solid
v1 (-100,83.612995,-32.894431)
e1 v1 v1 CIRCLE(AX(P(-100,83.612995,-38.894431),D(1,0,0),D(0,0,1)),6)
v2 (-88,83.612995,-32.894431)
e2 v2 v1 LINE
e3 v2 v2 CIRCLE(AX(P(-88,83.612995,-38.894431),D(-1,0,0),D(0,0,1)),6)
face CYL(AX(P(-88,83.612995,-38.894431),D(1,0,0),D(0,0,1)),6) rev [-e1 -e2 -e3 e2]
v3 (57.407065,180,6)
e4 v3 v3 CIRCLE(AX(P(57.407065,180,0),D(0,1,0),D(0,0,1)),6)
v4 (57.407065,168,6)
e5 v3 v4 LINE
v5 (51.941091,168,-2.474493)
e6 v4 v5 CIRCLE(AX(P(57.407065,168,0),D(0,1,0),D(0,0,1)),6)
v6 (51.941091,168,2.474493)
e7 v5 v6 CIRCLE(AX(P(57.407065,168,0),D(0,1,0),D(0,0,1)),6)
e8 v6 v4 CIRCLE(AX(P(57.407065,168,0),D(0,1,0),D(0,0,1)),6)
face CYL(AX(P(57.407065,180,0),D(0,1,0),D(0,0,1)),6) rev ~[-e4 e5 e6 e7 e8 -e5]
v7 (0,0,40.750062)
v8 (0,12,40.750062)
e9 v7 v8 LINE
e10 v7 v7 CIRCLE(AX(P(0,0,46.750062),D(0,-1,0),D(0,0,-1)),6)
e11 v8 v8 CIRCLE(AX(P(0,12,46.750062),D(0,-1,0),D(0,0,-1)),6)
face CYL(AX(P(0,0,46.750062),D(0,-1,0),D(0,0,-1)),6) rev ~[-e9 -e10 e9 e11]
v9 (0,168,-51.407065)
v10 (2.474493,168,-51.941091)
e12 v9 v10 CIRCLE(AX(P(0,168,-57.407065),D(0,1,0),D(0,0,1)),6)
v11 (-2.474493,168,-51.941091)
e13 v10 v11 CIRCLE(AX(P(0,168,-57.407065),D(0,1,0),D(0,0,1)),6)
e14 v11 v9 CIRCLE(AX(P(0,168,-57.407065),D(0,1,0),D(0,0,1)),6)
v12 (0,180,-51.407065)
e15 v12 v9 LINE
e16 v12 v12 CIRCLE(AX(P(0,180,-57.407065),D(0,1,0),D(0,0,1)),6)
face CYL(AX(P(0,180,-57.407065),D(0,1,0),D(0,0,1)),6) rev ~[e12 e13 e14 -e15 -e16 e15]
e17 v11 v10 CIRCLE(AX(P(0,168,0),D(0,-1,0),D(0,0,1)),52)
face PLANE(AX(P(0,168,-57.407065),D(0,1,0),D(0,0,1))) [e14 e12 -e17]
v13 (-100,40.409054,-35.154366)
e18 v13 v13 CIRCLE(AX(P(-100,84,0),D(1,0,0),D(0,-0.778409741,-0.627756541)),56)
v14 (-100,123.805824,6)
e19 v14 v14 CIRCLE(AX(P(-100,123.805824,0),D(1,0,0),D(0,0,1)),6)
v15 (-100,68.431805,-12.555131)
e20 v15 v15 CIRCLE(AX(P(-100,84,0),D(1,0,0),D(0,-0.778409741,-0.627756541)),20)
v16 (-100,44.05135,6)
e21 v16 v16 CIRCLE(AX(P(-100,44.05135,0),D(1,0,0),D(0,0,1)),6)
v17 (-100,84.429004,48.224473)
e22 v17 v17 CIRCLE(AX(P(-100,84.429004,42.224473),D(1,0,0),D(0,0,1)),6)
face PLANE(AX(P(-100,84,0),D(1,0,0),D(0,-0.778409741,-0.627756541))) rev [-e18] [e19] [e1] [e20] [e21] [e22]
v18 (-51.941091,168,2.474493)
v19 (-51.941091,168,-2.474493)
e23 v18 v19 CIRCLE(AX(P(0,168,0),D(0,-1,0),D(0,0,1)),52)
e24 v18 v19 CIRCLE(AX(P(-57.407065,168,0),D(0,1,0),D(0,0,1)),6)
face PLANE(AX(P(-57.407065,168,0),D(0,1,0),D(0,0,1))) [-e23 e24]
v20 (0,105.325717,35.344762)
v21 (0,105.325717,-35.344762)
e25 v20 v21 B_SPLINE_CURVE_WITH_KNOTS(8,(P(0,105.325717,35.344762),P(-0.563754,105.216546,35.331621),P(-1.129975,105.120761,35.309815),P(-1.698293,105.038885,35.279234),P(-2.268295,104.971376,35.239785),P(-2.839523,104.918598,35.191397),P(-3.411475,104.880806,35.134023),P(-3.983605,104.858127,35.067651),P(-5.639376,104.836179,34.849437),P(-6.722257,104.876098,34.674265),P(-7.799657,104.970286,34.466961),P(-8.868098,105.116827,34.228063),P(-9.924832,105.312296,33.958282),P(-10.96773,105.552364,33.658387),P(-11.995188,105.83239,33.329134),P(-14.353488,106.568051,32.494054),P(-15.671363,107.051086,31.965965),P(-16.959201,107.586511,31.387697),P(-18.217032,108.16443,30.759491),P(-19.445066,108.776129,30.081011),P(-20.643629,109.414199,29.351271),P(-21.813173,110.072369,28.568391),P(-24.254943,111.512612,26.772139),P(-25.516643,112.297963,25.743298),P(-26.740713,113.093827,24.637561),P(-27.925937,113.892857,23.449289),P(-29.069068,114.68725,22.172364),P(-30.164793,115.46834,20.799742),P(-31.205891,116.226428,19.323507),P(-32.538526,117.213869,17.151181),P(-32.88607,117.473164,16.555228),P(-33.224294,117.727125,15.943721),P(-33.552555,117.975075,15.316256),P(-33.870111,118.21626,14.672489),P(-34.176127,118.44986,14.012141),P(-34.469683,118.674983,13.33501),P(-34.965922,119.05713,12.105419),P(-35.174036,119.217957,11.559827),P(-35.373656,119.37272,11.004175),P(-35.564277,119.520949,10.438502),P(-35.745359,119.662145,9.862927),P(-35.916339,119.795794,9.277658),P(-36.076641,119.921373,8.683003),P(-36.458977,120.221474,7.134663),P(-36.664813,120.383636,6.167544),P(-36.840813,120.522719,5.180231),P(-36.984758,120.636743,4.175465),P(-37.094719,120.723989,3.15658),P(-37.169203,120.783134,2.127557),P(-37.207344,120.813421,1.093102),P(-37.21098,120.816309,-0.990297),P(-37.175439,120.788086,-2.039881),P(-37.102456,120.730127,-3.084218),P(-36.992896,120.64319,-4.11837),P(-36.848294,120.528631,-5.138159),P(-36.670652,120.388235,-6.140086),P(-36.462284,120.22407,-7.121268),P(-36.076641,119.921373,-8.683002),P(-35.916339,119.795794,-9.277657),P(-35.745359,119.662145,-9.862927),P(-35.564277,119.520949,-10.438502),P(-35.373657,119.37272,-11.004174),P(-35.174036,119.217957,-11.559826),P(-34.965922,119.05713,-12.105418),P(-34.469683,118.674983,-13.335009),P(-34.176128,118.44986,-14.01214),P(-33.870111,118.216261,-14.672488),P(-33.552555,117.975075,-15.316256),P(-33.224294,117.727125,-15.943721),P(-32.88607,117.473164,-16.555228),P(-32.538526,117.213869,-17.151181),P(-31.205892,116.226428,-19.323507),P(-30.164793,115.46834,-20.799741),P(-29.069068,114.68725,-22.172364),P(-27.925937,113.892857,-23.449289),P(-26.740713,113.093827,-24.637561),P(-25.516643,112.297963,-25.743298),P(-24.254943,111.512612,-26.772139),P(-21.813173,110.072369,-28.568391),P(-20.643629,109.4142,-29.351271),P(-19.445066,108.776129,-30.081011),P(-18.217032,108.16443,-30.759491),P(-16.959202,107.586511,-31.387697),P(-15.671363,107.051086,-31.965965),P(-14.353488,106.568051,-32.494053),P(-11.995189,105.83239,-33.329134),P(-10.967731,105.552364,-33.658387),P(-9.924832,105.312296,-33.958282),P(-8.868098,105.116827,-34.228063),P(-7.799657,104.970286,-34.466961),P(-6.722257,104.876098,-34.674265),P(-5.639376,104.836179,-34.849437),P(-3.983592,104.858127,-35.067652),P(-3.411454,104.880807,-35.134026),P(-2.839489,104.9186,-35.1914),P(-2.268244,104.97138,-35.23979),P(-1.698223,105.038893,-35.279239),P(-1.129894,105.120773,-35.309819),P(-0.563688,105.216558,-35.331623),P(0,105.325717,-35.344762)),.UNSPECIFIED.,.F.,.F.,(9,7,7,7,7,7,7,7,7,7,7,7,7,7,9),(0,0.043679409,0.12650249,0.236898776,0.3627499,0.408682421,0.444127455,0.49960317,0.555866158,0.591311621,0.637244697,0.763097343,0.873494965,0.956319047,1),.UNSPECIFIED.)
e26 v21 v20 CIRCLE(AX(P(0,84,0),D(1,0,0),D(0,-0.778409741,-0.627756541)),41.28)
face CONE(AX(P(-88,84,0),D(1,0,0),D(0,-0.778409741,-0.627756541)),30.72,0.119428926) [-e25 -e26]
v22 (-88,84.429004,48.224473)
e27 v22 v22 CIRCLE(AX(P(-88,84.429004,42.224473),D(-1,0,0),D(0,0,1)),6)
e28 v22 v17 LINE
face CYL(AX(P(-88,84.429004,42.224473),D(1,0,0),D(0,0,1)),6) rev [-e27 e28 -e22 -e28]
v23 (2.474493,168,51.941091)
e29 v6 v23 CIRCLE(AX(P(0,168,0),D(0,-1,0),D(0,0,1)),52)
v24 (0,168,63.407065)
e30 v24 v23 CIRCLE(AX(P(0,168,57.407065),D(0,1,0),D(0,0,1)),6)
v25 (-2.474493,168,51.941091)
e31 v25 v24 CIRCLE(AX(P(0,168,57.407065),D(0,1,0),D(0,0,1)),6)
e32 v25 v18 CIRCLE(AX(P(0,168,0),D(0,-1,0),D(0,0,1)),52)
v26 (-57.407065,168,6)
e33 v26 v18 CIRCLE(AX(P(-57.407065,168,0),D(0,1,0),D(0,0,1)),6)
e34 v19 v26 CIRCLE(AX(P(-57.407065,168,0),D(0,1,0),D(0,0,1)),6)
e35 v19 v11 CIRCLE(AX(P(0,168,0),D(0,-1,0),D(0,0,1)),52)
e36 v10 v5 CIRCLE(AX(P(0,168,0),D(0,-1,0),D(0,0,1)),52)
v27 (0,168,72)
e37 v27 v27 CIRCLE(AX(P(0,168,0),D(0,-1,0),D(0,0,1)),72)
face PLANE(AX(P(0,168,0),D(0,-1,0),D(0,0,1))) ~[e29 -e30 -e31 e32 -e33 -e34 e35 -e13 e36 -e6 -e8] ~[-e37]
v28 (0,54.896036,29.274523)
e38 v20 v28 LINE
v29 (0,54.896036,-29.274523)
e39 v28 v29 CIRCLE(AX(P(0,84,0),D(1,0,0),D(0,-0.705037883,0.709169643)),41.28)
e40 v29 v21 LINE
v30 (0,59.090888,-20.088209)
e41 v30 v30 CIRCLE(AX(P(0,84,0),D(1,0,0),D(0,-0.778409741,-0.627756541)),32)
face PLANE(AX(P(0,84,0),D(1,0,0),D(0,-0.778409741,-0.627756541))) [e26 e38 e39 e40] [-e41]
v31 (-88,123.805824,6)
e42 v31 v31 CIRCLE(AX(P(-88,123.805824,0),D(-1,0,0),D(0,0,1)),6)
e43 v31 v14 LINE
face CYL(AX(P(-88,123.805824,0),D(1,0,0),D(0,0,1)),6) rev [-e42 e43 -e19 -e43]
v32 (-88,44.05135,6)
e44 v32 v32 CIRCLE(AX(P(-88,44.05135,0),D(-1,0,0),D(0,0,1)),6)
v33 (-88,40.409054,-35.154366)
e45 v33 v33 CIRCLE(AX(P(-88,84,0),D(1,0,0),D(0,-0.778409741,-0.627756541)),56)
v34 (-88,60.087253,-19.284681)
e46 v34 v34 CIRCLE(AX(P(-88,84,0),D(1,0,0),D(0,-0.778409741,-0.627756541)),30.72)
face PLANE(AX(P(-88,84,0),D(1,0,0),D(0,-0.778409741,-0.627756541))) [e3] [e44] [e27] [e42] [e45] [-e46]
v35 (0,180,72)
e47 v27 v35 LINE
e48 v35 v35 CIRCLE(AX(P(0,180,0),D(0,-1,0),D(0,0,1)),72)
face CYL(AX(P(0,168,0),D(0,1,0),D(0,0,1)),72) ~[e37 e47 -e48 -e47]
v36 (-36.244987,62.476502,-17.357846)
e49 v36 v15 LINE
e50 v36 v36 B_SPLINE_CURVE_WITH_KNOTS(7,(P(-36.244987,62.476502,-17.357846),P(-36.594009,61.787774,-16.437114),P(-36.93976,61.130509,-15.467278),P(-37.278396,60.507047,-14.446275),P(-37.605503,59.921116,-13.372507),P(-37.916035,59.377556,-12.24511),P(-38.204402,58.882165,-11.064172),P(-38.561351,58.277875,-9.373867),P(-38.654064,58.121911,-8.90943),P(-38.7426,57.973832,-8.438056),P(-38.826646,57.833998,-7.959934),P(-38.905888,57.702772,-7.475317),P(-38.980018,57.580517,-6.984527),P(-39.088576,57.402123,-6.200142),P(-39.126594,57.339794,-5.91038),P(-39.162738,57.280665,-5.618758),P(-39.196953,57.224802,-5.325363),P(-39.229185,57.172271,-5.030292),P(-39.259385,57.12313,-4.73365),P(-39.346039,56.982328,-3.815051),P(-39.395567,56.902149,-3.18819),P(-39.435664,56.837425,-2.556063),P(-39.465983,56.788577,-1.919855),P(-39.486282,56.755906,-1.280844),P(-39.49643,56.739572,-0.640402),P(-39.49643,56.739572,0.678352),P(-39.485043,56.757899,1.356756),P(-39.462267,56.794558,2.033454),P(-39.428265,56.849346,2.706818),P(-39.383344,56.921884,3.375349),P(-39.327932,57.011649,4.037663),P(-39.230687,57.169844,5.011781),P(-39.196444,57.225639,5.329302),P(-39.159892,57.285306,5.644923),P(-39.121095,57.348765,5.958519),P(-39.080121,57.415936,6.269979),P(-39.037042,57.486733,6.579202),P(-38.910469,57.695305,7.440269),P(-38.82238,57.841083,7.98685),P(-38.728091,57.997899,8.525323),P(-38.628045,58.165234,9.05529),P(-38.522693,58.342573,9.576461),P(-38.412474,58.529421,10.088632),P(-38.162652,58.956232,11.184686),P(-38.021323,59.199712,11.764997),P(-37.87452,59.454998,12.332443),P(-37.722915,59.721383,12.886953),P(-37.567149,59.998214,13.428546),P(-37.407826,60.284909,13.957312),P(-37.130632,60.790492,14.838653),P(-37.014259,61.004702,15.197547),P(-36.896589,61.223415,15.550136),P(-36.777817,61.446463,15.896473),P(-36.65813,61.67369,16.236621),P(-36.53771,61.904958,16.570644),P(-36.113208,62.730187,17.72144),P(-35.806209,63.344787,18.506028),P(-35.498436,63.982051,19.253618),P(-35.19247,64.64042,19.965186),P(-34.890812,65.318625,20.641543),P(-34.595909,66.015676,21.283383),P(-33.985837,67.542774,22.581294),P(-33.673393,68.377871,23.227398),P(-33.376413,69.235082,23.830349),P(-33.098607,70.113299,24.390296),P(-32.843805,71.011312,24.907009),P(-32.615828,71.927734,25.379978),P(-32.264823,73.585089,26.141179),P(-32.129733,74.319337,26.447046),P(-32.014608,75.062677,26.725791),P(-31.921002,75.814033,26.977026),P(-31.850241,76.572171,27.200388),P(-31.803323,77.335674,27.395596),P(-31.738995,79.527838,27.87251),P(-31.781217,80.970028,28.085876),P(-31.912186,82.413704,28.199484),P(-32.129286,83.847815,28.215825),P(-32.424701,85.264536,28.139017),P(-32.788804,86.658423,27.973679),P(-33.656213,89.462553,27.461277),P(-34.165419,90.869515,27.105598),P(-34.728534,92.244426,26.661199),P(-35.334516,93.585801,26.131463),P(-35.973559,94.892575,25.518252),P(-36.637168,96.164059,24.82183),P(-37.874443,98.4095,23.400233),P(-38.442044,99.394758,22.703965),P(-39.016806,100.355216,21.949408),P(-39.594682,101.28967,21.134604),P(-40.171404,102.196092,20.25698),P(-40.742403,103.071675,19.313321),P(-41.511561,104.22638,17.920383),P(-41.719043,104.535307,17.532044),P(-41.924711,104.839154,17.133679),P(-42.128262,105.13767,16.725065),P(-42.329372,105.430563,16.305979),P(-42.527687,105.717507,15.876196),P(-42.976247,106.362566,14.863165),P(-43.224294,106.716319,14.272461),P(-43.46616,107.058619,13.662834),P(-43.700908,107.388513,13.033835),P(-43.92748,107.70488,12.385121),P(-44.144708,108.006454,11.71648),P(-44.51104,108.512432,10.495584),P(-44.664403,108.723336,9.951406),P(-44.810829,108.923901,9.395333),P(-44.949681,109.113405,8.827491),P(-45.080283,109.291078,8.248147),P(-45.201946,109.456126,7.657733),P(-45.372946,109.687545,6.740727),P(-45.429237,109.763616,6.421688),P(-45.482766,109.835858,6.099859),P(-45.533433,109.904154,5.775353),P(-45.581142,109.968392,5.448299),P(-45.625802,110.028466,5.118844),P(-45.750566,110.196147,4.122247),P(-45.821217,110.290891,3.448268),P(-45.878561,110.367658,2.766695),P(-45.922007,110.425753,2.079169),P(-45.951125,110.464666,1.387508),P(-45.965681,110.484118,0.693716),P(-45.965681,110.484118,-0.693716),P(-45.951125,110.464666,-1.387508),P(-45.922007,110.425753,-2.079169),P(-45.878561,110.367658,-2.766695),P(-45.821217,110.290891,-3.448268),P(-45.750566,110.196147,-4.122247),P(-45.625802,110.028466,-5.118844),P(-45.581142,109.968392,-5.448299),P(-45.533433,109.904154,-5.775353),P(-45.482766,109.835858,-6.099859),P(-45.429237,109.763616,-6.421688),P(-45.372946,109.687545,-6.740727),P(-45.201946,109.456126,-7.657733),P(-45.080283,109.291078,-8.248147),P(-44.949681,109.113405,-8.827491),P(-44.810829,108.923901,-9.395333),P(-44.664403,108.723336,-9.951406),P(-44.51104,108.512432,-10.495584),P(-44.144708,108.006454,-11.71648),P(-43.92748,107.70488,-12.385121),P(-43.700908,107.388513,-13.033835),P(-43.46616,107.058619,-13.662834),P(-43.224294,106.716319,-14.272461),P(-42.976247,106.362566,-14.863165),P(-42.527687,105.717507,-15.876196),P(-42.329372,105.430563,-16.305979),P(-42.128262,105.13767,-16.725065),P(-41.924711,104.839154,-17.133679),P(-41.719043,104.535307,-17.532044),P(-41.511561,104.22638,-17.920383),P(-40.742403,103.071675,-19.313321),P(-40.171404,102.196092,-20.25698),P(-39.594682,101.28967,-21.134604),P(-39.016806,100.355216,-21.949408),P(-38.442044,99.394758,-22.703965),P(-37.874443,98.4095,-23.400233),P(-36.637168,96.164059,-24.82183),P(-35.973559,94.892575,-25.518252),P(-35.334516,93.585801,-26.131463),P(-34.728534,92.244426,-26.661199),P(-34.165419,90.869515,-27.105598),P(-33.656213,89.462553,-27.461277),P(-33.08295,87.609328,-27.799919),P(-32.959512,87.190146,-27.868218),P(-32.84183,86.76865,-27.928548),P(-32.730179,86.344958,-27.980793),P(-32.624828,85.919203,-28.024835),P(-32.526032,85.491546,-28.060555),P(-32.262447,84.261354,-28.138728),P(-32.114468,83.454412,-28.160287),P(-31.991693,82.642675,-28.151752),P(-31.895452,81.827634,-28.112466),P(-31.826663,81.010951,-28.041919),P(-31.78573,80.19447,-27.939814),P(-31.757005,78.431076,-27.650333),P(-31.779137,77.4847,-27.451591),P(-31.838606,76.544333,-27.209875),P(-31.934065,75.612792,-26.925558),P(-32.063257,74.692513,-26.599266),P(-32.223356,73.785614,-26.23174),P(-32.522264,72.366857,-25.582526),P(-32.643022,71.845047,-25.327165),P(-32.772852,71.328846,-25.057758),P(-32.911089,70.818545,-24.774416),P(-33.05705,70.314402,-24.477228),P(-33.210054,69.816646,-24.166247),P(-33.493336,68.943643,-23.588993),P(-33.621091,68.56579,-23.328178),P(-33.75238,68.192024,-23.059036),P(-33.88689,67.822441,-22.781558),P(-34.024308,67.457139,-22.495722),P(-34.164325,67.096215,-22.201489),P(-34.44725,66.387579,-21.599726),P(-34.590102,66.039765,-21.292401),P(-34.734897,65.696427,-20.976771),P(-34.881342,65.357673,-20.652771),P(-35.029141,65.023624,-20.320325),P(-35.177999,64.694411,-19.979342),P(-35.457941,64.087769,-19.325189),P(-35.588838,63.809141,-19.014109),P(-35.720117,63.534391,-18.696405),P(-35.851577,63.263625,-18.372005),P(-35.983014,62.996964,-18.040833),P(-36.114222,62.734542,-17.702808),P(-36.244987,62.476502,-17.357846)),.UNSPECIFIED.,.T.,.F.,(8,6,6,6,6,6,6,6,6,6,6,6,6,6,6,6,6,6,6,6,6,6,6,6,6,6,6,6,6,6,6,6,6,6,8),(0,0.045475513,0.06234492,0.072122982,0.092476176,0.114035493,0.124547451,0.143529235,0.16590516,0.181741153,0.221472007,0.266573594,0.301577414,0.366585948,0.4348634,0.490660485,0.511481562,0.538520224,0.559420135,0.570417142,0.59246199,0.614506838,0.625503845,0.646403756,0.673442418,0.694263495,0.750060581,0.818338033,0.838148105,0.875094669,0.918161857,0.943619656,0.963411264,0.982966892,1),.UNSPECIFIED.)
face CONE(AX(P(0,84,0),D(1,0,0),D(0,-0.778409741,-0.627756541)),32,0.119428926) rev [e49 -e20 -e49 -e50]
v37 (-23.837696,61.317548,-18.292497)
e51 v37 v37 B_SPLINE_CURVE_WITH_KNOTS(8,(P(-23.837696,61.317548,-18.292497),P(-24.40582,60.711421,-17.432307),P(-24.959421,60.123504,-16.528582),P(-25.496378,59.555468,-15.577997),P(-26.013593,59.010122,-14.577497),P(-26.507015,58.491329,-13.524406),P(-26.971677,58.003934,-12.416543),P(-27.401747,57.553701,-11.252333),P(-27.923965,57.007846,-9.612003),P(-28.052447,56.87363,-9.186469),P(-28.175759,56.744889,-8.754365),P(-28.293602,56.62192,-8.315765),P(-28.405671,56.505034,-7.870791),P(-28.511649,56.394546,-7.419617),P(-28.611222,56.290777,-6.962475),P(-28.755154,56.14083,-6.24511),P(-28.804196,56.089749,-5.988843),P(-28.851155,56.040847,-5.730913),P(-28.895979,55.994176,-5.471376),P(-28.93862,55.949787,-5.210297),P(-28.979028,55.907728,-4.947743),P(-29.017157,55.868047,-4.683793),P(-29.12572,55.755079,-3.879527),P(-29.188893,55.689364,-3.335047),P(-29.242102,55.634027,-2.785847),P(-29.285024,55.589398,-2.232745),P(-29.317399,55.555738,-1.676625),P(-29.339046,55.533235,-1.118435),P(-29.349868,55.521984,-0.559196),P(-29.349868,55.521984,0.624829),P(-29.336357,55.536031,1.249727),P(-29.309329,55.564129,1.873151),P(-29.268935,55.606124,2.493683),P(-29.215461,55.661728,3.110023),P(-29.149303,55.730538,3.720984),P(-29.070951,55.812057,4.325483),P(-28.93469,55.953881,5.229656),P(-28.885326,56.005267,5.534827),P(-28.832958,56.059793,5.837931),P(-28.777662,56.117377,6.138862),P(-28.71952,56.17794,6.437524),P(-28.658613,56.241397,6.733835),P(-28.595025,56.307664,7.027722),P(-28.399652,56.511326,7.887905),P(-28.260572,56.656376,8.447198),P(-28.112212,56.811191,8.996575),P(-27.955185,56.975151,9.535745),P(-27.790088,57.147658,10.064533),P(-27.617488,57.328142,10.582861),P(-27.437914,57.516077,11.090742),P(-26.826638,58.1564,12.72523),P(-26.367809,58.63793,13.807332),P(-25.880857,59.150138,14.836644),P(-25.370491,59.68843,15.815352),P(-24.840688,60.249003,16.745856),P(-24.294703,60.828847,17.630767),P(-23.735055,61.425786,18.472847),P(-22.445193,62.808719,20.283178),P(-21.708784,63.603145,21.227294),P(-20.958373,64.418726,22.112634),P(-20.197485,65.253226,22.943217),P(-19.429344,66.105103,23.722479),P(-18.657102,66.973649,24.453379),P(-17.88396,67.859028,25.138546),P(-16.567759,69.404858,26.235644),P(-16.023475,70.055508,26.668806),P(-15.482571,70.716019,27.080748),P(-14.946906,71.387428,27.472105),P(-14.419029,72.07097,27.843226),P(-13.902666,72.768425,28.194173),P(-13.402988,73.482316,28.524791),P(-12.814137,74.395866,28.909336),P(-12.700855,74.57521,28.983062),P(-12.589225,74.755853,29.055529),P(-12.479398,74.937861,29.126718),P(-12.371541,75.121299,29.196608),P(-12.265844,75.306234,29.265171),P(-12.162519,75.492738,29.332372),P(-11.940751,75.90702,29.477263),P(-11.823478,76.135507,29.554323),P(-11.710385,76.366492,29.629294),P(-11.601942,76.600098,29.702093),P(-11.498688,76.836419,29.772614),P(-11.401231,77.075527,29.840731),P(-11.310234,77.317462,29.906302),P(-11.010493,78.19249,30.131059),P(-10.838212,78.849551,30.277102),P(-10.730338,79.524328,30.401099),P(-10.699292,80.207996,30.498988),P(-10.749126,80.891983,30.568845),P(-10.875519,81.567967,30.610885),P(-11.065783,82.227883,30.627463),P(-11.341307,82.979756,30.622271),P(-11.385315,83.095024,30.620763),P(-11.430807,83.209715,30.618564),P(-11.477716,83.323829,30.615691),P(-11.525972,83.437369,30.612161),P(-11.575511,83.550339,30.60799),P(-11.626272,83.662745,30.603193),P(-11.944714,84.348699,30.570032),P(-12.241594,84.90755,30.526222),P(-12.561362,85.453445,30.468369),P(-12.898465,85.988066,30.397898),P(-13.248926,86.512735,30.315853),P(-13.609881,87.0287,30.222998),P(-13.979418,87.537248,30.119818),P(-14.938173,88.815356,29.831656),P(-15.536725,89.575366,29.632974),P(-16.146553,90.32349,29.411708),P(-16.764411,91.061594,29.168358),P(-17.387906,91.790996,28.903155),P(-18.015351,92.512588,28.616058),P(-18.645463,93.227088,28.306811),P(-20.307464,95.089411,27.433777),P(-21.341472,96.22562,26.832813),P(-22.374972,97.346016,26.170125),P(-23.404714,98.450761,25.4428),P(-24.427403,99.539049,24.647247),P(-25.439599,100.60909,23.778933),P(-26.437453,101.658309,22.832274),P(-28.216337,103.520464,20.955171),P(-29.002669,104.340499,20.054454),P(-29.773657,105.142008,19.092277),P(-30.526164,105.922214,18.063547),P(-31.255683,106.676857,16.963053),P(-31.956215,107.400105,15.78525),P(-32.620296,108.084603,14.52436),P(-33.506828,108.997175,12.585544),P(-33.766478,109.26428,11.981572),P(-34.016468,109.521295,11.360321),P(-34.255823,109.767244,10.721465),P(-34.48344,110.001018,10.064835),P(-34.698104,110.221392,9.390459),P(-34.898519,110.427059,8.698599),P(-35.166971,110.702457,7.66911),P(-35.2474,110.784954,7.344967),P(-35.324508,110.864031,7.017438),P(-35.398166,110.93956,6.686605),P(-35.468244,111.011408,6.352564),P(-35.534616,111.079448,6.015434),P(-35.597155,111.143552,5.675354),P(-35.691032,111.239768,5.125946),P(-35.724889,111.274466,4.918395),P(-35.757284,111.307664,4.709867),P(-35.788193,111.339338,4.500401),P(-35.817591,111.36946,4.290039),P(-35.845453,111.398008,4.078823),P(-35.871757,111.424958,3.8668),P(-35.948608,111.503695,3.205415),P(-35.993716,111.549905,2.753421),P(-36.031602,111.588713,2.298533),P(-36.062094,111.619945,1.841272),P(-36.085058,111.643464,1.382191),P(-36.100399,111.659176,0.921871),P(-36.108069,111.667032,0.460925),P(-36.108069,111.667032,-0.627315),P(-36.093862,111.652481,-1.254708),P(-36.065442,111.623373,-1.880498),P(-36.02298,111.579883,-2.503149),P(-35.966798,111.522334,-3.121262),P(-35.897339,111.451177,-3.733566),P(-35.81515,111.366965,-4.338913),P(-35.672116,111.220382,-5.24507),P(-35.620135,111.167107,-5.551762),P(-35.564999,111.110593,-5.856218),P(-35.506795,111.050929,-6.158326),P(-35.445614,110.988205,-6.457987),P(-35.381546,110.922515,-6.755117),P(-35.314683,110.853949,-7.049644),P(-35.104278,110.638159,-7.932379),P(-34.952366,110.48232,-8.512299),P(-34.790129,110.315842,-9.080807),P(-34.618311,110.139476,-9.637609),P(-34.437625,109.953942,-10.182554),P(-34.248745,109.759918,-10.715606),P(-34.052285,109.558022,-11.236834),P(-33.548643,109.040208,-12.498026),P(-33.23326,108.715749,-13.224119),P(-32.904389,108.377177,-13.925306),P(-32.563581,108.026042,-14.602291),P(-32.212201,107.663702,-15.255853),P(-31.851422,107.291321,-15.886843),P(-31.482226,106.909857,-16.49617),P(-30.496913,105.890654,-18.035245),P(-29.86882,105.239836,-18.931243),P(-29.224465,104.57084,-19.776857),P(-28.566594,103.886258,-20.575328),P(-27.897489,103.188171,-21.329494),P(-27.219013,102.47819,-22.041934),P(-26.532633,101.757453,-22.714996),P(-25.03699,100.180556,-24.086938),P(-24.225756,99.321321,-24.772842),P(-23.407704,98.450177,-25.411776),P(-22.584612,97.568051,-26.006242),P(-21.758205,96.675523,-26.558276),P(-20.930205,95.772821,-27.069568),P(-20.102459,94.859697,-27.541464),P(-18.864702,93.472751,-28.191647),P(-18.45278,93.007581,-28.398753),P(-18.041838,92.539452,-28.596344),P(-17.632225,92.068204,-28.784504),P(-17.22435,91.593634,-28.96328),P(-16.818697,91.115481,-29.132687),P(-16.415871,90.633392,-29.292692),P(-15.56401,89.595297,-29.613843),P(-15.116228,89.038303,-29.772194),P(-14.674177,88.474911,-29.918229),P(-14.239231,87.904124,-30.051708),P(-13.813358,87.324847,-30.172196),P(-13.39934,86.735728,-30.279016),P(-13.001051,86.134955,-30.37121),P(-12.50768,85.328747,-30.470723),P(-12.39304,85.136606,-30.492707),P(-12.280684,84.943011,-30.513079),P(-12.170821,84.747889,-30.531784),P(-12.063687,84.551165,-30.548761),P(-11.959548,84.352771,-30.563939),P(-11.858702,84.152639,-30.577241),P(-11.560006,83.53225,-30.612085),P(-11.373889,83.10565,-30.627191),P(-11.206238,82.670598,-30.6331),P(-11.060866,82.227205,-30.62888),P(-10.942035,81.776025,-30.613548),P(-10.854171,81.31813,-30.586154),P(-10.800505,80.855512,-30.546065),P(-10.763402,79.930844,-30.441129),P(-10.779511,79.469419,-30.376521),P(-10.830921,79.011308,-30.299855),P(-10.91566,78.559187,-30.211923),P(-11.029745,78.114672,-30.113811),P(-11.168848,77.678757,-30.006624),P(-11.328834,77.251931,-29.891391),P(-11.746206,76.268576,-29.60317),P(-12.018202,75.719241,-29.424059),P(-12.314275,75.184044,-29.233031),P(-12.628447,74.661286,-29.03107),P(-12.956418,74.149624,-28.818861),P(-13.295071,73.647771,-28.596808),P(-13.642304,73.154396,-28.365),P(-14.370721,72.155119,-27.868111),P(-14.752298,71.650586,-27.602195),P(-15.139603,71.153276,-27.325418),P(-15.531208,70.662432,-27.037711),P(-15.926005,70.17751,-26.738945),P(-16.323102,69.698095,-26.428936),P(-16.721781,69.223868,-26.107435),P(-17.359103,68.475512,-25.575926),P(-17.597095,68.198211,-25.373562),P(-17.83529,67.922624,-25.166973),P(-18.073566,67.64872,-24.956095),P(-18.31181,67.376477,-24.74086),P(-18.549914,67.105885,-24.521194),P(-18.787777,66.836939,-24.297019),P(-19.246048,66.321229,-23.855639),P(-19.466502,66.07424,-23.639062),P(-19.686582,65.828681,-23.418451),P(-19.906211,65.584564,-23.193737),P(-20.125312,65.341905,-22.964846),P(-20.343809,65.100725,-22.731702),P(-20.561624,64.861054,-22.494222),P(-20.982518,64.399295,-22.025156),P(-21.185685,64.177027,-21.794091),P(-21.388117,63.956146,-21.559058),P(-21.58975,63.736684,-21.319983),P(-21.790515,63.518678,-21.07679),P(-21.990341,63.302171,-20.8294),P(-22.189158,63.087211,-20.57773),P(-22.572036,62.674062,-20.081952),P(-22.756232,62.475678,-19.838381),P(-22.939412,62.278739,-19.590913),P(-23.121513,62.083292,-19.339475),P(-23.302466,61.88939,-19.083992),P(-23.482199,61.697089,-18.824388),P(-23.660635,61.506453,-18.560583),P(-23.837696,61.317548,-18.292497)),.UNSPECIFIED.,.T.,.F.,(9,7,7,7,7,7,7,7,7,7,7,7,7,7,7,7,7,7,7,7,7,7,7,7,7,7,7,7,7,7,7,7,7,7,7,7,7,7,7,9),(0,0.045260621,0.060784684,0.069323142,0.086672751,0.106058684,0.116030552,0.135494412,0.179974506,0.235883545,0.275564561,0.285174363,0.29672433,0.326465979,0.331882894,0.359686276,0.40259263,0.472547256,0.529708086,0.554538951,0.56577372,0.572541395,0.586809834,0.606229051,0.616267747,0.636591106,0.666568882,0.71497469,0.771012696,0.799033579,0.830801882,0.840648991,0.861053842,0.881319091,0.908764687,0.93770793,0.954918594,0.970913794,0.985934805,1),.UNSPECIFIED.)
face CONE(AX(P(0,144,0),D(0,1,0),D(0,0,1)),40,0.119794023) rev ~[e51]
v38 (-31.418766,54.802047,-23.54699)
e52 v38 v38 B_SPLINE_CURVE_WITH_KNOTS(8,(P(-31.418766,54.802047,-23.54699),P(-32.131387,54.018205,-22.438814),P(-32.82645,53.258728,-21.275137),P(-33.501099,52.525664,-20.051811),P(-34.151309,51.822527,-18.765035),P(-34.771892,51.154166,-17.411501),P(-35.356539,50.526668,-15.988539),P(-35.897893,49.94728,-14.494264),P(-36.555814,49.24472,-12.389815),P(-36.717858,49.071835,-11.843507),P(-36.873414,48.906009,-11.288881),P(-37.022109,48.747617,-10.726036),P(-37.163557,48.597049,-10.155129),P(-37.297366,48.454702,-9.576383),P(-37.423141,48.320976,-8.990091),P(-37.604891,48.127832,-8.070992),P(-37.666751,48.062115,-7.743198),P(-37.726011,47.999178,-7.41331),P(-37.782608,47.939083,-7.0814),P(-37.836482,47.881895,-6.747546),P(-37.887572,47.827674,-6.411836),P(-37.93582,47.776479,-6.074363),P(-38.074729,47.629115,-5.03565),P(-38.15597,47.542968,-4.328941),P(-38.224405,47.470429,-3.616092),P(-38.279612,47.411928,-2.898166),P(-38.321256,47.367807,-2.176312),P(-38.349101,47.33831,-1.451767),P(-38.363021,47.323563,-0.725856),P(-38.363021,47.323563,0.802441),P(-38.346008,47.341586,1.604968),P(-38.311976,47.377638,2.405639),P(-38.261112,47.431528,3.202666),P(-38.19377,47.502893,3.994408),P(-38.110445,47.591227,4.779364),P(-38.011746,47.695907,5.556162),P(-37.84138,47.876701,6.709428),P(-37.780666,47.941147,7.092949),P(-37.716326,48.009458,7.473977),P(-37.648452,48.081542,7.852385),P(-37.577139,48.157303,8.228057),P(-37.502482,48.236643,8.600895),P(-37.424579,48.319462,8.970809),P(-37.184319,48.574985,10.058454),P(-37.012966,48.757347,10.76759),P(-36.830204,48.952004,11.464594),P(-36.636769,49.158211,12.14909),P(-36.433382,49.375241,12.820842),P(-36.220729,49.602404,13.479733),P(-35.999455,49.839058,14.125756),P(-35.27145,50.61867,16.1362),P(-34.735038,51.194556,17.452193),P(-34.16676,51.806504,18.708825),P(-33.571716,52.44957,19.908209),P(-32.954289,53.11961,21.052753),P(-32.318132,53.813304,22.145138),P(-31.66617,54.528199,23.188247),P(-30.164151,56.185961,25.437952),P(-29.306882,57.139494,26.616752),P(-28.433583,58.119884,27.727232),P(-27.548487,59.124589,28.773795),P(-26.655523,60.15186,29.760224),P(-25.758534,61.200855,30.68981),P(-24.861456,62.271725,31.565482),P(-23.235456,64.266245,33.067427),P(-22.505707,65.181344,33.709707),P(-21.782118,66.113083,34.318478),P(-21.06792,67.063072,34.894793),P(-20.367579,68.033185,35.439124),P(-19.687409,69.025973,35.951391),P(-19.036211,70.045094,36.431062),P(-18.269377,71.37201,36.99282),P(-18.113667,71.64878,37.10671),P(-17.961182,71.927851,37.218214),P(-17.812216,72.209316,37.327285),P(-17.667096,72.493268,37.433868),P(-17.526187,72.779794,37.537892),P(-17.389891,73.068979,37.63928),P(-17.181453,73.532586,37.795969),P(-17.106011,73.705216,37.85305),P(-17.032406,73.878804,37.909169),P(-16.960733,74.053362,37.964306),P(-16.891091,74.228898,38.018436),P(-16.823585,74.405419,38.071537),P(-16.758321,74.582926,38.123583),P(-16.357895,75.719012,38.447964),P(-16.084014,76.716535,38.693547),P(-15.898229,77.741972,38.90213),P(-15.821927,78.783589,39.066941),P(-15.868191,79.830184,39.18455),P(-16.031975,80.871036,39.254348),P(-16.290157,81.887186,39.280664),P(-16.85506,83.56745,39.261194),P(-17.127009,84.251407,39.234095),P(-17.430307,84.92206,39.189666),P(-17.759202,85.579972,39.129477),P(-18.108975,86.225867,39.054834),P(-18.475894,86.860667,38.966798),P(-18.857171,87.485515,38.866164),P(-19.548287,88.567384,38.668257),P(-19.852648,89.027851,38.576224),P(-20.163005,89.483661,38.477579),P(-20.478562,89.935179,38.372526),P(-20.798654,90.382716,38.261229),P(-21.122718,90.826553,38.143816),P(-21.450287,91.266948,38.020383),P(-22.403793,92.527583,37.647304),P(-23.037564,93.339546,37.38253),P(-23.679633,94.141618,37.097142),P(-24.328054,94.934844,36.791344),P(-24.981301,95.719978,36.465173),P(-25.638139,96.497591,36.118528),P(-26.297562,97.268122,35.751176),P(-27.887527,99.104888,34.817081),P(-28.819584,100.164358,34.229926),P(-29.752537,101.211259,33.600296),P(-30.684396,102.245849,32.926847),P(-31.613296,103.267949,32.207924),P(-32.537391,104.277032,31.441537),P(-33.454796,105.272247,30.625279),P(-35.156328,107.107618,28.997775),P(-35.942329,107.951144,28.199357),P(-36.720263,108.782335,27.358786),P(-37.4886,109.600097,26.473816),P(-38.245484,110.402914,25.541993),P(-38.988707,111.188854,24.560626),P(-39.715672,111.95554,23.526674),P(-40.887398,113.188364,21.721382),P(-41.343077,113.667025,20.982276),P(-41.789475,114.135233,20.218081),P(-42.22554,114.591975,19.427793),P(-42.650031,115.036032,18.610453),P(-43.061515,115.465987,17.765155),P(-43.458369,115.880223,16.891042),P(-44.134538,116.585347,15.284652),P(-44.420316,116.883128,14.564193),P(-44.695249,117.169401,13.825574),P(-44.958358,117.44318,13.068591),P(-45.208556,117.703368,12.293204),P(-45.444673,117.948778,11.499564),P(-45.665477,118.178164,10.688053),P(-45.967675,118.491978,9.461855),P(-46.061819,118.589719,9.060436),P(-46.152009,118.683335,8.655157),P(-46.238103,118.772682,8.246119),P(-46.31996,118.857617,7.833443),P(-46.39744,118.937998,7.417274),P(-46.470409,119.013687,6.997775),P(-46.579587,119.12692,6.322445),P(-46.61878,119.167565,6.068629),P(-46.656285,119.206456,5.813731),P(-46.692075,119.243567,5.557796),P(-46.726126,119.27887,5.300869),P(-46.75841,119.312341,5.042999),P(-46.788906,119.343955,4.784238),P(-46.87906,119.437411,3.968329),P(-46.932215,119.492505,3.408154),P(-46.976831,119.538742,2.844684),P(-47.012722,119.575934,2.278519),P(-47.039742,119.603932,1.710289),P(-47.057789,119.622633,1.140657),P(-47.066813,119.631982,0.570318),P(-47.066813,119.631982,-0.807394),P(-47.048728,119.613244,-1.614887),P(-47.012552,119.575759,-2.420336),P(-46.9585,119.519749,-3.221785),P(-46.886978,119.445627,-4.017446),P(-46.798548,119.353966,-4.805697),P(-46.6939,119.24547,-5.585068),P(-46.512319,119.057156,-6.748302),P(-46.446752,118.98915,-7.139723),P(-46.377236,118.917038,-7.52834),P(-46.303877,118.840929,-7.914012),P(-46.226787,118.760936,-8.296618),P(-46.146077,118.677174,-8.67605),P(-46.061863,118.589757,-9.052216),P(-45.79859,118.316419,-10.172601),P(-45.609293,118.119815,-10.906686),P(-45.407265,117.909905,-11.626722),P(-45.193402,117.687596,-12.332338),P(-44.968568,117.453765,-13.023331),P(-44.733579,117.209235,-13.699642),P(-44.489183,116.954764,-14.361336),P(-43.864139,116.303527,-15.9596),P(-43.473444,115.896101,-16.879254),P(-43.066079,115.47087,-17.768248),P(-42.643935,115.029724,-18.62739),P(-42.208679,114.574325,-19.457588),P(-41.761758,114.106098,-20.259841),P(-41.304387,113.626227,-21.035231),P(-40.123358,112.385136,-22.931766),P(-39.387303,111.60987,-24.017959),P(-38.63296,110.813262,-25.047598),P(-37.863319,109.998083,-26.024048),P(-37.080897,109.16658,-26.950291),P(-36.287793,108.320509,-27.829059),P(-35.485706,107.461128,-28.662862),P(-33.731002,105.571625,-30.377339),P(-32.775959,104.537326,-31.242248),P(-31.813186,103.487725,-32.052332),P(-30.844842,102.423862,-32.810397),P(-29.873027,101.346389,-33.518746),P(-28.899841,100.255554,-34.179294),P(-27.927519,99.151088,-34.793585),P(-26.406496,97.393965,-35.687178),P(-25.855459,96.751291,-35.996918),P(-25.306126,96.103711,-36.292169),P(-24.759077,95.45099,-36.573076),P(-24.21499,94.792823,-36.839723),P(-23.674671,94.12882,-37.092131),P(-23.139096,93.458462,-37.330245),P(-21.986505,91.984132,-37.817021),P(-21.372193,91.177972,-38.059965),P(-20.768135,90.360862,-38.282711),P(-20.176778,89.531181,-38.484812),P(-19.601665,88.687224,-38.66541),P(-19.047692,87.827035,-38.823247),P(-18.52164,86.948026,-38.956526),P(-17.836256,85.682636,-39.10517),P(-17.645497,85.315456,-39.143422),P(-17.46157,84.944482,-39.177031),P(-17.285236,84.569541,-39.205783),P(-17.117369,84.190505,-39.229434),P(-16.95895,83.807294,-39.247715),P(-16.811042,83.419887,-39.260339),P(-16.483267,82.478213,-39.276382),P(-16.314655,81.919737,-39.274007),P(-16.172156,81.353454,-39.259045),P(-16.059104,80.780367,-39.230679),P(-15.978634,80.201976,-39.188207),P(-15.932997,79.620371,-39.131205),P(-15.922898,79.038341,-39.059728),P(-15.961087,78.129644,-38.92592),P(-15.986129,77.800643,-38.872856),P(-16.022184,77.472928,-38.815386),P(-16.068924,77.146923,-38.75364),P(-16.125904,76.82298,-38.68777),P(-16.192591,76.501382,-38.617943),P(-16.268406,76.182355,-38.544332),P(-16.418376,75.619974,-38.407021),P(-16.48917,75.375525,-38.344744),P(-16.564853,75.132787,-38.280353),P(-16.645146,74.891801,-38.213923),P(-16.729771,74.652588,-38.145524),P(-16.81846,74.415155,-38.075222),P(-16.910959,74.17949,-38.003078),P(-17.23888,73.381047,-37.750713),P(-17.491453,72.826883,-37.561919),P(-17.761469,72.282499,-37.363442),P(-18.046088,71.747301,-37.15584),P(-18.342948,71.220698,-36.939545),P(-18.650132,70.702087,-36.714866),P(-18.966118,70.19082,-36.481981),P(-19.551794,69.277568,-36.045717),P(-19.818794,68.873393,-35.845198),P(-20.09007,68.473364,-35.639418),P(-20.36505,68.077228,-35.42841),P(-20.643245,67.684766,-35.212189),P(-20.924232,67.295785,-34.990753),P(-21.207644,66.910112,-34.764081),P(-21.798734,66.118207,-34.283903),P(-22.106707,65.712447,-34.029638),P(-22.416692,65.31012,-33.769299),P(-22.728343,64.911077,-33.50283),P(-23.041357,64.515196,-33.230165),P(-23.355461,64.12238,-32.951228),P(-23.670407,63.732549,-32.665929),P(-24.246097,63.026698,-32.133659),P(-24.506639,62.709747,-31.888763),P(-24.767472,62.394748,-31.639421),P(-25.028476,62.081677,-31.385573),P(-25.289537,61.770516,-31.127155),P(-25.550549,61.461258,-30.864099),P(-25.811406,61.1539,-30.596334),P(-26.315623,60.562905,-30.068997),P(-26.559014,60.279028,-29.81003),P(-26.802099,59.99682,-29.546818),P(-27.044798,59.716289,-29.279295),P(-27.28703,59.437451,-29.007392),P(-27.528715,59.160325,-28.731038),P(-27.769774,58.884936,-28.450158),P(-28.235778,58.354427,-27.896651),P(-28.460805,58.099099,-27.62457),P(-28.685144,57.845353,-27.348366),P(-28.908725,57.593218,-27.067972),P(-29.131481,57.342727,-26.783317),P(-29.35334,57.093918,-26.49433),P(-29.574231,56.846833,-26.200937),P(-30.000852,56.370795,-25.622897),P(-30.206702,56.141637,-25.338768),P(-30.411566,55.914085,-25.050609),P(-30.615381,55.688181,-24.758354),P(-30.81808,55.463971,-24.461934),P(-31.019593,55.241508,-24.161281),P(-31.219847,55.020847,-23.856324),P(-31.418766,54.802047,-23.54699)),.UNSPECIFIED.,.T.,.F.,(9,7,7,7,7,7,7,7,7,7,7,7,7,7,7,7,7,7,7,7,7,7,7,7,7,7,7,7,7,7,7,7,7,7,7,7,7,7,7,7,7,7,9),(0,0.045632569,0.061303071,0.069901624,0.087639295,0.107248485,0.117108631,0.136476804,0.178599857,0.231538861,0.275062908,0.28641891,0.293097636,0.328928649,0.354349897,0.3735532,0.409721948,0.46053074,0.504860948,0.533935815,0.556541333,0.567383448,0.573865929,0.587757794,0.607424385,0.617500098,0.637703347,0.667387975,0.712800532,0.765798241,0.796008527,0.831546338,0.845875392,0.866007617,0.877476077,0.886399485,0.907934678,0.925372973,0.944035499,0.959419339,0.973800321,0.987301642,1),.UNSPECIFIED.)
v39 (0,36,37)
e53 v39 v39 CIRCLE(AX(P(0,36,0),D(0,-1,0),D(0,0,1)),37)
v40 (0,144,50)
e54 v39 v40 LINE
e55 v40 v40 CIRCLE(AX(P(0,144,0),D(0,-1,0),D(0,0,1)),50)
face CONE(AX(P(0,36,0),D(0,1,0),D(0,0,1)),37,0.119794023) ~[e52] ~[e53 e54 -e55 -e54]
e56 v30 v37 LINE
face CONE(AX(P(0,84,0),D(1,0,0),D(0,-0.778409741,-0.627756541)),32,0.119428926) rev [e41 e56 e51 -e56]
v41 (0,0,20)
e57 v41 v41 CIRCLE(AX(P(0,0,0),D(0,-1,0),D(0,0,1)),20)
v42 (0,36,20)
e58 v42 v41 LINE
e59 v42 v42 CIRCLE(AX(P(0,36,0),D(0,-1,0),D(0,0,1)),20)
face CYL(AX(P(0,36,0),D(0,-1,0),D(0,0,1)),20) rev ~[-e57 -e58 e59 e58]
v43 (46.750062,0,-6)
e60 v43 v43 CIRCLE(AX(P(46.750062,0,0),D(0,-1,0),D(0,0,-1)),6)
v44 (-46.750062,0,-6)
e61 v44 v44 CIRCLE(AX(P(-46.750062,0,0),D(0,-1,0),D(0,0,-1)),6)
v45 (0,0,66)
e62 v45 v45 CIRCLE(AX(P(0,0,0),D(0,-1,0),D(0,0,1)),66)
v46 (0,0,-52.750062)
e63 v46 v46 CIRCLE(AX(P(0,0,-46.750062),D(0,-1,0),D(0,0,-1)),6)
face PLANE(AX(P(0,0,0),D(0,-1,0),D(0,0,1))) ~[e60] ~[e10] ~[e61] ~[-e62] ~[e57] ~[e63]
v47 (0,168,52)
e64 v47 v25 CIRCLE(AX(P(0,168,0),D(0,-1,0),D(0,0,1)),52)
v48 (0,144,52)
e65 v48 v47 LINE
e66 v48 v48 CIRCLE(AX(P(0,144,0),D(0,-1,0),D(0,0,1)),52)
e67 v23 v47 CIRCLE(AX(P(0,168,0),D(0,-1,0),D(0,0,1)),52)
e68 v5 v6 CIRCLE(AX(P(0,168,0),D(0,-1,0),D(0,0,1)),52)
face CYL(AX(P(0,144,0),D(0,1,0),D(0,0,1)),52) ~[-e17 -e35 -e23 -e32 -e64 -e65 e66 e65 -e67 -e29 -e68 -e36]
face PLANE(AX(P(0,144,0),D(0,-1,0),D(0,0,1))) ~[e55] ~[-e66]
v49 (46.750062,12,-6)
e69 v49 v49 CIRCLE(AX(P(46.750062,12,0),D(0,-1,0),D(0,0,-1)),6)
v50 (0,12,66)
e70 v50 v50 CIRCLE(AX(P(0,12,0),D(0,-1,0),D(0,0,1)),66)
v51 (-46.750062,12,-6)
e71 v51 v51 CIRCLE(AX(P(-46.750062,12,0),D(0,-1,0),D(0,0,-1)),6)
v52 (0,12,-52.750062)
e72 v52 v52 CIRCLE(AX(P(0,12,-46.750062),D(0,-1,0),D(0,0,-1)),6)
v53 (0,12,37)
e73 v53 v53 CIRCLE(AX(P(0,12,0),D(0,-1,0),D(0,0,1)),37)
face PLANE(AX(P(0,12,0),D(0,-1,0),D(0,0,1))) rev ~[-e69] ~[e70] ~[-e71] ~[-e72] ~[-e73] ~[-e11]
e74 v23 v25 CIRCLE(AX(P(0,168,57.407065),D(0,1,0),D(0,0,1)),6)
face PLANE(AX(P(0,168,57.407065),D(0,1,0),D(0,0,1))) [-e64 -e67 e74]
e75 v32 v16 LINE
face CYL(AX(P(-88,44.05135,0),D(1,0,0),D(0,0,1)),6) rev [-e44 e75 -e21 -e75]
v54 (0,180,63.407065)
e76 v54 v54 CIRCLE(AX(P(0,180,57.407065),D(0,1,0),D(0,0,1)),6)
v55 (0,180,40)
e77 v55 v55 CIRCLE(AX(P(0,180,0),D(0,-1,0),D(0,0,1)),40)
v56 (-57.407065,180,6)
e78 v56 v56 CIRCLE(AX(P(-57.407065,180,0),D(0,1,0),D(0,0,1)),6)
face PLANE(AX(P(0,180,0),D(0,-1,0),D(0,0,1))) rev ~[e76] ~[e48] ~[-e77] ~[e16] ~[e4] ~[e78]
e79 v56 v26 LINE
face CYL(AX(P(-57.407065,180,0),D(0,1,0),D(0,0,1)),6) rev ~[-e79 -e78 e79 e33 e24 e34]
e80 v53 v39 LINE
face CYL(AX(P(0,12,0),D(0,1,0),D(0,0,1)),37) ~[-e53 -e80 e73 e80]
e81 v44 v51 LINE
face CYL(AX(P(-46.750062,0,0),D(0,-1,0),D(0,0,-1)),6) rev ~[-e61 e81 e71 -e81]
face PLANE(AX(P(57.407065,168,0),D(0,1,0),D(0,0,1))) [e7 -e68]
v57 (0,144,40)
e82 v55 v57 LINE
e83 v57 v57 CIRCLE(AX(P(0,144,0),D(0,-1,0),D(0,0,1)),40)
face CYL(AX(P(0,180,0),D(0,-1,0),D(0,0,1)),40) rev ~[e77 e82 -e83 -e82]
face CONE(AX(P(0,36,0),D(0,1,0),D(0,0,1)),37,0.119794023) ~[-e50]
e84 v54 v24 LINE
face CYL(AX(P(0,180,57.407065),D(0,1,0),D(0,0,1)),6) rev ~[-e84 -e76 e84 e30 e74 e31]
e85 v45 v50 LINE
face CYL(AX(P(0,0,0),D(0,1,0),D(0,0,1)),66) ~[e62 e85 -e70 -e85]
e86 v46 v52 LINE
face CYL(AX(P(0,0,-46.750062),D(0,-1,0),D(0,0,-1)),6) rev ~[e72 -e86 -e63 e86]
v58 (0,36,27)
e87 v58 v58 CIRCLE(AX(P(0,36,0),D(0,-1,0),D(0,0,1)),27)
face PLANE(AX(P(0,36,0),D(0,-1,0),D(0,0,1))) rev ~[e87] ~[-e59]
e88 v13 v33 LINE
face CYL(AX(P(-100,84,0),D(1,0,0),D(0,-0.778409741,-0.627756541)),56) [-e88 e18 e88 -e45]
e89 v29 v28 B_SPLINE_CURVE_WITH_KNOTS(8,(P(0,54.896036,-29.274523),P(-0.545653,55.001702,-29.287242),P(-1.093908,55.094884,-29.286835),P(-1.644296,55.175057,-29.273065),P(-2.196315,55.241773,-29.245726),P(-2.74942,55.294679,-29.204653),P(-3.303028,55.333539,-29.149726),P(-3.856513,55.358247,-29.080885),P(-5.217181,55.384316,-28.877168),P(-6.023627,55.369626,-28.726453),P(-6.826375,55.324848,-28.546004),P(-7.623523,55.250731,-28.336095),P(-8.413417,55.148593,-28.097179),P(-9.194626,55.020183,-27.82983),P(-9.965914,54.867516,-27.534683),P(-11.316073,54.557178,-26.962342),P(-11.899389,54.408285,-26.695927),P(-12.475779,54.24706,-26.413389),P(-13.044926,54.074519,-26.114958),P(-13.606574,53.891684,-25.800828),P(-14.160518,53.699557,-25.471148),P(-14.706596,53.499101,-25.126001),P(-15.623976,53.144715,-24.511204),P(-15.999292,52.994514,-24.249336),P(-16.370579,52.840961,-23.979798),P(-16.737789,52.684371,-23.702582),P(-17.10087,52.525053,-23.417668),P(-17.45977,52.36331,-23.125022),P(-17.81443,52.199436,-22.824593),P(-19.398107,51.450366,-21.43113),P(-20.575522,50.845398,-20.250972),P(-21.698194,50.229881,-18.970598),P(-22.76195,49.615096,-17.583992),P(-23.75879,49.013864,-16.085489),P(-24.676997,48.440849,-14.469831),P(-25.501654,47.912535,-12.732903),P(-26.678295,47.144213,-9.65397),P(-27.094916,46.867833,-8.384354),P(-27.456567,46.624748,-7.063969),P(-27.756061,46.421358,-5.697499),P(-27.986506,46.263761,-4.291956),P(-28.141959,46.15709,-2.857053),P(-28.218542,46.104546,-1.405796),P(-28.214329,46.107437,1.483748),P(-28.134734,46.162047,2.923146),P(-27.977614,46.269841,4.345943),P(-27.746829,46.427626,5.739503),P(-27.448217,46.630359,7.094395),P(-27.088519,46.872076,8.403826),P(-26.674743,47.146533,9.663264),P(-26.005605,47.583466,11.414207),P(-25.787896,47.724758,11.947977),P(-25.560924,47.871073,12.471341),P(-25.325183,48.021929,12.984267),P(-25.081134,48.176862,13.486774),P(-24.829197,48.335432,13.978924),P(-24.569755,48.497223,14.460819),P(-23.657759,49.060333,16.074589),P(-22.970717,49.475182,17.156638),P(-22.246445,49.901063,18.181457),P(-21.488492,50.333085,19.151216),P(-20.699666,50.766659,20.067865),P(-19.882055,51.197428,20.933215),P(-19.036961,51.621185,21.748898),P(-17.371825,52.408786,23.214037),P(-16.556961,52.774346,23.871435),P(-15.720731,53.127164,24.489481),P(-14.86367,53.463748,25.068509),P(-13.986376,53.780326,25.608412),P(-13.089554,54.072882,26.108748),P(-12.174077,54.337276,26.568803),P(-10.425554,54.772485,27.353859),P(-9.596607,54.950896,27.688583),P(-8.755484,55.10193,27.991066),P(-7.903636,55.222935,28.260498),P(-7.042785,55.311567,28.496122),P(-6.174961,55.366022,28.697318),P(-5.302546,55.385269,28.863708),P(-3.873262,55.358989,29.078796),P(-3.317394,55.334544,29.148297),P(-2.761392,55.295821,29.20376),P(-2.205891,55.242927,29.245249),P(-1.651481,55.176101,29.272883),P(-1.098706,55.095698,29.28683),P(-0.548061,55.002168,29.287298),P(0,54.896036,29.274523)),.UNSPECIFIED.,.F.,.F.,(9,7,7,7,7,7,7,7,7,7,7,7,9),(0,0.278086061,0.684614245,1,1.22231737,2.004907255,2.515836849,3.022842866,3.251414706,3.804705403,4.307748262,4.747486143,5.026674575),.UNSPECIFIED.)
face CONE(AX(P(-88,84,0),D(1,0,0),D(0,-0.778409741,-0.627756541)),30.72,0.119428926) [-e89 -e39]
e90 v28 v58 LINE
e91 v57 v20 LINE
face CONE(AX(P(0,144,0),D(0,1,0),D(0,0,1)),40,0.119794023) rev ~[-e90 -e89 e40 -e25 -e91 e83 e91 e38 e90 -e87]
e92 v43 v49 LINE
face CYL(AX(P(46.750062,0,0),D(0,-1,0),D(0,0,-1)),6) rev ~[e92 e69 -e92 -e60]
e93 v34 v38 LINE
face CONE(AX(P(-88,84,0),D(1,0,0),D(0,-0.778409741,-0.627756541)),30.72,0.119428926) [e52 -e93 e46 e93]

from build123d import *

# Parameters (mm, degrees)
CUT_EXTRUDE1_DEPTH      = 260.167899247
CUT_EXTRUDE1_DEPTH_BACK = 12
SKETCH9_R               = 6
SKETCH10_R              = 6
CUT_EXTRUDE2_DEPTH      = 12
SKETCH11_R              = 6
CUT_EXTRUDE3_DEPTH      = 12


with BuildPart() as part:
    # Sketch2 → Revolve1 (revolve)
    with BuildSketch(Plane.XY, mode=Mode.PRIVATE) as revolve1_sk:
        Polygon((20, 0), (66, 0), (66, 12), (37, 12), (37, 36), (50, 144), (52, 144), (52, 168), (72, 168), (72, 180), (40, 180), (40, 144), (27, 36), (20, 36), align=None)
    revolve(revolve1_sk.sketch.rotate(Axis((0, 219.689881735, 0), (0, -1, 0)), 90), axis=Axis((0, 219.689881735, 0), (0, -1, 0)))

    # Sketch3 → Revolve2 (revolve)
    with BuildSketch(Plane.XY, mode=Mode.PRIVATE) as revolve2_sk:
        Polygon((0, 42.72), (0, 52), (-100, 64), (-100, 28), (-88, 28), (-88, 53.28), align=None)
    revolve(revolve2_sk.sketch.rotate(Axis((-132.487962293, 84, 0), (1, 0, 0)), 38.884797464), axis=Axis((-132.487962293, 84, 0), (1, 0, 0)))

    # Sketch9 → Cut-Extrude1 (cut, two sides: drawn at the far end of the back side and taken through both)
    with BuildSketch(Plane.ZY.offset(100).offset(-CUT_EXTRUDE1_DEPTH_BACK)):
        with Locations((0, 123.805824454)):
            Circle(SKETCH9_R)
        with Locations((-38.894430599, 83.612994593)):
            Circle(SKETCH9_R)
        with Locations((0, 44.0513497)):
            Circle(SKETCH9_R)
        with Locations((42.224472522, 84.429003597)):
            Circle(SKETCH9_R)
    extrude(amount=CUT_EXTRUDE1_DEPTH + CUT_EXTRUDE1_DEPTH_BACK, mode=Mode.SUBTRACT)

    # Sketch10 → Cut-Extrude2 (cut)
    with BuildSketch(Plane.XZ):
        with Locations(Location((0, 46.750062071, 0), (0, 0, 270))):
            Circle(SKETCH10_R)
        with Locations(Location((46.750062071, 0, 0), (0, 0, 270))):
            Circle(SKETCH10_R)
        with Locations(Location((0, -46.750062071, 0), (0, 0, 270))):
            Circle(SKETCH10_R)
        with Locations(Location((-46.750062071, 0, 0), (0, 0, 270))):
            Circle(SKETCH10_R)
    extrude(amount=-CUT_EXTRUDE2_DEPTH, mode=Mode.SUBTRACT)

    # Sketch11 → Cut-Extrude3 (cut)
    with BuildSketch(Plane(origin=(0, 180, 0), x_dir=(1, 0, 0), z_dir=(0, 1, 0))):
        with Locations(Location((0, 57.407065467, 0), (0, 0, 270))):
            Circle(SKETCH11_R)
        with Locations(Location((57.407065467, 0, 0), (0, 0, 270))):
            Circle(SKETCH11_R)
        with Locations(Location((0, -57.407065467, 0), (0, 0, 270))):
            Circle(SKETCH11_R)
        with Locations(Location((-57.407065467, 0, 0), (0, 0, 270))):
            Circle(SKETCH11_R)
    extrude(amount=-CUT_EXTRUDE3_DEPTH, mode=Mode.SUBTRACT)


solid = part.part
